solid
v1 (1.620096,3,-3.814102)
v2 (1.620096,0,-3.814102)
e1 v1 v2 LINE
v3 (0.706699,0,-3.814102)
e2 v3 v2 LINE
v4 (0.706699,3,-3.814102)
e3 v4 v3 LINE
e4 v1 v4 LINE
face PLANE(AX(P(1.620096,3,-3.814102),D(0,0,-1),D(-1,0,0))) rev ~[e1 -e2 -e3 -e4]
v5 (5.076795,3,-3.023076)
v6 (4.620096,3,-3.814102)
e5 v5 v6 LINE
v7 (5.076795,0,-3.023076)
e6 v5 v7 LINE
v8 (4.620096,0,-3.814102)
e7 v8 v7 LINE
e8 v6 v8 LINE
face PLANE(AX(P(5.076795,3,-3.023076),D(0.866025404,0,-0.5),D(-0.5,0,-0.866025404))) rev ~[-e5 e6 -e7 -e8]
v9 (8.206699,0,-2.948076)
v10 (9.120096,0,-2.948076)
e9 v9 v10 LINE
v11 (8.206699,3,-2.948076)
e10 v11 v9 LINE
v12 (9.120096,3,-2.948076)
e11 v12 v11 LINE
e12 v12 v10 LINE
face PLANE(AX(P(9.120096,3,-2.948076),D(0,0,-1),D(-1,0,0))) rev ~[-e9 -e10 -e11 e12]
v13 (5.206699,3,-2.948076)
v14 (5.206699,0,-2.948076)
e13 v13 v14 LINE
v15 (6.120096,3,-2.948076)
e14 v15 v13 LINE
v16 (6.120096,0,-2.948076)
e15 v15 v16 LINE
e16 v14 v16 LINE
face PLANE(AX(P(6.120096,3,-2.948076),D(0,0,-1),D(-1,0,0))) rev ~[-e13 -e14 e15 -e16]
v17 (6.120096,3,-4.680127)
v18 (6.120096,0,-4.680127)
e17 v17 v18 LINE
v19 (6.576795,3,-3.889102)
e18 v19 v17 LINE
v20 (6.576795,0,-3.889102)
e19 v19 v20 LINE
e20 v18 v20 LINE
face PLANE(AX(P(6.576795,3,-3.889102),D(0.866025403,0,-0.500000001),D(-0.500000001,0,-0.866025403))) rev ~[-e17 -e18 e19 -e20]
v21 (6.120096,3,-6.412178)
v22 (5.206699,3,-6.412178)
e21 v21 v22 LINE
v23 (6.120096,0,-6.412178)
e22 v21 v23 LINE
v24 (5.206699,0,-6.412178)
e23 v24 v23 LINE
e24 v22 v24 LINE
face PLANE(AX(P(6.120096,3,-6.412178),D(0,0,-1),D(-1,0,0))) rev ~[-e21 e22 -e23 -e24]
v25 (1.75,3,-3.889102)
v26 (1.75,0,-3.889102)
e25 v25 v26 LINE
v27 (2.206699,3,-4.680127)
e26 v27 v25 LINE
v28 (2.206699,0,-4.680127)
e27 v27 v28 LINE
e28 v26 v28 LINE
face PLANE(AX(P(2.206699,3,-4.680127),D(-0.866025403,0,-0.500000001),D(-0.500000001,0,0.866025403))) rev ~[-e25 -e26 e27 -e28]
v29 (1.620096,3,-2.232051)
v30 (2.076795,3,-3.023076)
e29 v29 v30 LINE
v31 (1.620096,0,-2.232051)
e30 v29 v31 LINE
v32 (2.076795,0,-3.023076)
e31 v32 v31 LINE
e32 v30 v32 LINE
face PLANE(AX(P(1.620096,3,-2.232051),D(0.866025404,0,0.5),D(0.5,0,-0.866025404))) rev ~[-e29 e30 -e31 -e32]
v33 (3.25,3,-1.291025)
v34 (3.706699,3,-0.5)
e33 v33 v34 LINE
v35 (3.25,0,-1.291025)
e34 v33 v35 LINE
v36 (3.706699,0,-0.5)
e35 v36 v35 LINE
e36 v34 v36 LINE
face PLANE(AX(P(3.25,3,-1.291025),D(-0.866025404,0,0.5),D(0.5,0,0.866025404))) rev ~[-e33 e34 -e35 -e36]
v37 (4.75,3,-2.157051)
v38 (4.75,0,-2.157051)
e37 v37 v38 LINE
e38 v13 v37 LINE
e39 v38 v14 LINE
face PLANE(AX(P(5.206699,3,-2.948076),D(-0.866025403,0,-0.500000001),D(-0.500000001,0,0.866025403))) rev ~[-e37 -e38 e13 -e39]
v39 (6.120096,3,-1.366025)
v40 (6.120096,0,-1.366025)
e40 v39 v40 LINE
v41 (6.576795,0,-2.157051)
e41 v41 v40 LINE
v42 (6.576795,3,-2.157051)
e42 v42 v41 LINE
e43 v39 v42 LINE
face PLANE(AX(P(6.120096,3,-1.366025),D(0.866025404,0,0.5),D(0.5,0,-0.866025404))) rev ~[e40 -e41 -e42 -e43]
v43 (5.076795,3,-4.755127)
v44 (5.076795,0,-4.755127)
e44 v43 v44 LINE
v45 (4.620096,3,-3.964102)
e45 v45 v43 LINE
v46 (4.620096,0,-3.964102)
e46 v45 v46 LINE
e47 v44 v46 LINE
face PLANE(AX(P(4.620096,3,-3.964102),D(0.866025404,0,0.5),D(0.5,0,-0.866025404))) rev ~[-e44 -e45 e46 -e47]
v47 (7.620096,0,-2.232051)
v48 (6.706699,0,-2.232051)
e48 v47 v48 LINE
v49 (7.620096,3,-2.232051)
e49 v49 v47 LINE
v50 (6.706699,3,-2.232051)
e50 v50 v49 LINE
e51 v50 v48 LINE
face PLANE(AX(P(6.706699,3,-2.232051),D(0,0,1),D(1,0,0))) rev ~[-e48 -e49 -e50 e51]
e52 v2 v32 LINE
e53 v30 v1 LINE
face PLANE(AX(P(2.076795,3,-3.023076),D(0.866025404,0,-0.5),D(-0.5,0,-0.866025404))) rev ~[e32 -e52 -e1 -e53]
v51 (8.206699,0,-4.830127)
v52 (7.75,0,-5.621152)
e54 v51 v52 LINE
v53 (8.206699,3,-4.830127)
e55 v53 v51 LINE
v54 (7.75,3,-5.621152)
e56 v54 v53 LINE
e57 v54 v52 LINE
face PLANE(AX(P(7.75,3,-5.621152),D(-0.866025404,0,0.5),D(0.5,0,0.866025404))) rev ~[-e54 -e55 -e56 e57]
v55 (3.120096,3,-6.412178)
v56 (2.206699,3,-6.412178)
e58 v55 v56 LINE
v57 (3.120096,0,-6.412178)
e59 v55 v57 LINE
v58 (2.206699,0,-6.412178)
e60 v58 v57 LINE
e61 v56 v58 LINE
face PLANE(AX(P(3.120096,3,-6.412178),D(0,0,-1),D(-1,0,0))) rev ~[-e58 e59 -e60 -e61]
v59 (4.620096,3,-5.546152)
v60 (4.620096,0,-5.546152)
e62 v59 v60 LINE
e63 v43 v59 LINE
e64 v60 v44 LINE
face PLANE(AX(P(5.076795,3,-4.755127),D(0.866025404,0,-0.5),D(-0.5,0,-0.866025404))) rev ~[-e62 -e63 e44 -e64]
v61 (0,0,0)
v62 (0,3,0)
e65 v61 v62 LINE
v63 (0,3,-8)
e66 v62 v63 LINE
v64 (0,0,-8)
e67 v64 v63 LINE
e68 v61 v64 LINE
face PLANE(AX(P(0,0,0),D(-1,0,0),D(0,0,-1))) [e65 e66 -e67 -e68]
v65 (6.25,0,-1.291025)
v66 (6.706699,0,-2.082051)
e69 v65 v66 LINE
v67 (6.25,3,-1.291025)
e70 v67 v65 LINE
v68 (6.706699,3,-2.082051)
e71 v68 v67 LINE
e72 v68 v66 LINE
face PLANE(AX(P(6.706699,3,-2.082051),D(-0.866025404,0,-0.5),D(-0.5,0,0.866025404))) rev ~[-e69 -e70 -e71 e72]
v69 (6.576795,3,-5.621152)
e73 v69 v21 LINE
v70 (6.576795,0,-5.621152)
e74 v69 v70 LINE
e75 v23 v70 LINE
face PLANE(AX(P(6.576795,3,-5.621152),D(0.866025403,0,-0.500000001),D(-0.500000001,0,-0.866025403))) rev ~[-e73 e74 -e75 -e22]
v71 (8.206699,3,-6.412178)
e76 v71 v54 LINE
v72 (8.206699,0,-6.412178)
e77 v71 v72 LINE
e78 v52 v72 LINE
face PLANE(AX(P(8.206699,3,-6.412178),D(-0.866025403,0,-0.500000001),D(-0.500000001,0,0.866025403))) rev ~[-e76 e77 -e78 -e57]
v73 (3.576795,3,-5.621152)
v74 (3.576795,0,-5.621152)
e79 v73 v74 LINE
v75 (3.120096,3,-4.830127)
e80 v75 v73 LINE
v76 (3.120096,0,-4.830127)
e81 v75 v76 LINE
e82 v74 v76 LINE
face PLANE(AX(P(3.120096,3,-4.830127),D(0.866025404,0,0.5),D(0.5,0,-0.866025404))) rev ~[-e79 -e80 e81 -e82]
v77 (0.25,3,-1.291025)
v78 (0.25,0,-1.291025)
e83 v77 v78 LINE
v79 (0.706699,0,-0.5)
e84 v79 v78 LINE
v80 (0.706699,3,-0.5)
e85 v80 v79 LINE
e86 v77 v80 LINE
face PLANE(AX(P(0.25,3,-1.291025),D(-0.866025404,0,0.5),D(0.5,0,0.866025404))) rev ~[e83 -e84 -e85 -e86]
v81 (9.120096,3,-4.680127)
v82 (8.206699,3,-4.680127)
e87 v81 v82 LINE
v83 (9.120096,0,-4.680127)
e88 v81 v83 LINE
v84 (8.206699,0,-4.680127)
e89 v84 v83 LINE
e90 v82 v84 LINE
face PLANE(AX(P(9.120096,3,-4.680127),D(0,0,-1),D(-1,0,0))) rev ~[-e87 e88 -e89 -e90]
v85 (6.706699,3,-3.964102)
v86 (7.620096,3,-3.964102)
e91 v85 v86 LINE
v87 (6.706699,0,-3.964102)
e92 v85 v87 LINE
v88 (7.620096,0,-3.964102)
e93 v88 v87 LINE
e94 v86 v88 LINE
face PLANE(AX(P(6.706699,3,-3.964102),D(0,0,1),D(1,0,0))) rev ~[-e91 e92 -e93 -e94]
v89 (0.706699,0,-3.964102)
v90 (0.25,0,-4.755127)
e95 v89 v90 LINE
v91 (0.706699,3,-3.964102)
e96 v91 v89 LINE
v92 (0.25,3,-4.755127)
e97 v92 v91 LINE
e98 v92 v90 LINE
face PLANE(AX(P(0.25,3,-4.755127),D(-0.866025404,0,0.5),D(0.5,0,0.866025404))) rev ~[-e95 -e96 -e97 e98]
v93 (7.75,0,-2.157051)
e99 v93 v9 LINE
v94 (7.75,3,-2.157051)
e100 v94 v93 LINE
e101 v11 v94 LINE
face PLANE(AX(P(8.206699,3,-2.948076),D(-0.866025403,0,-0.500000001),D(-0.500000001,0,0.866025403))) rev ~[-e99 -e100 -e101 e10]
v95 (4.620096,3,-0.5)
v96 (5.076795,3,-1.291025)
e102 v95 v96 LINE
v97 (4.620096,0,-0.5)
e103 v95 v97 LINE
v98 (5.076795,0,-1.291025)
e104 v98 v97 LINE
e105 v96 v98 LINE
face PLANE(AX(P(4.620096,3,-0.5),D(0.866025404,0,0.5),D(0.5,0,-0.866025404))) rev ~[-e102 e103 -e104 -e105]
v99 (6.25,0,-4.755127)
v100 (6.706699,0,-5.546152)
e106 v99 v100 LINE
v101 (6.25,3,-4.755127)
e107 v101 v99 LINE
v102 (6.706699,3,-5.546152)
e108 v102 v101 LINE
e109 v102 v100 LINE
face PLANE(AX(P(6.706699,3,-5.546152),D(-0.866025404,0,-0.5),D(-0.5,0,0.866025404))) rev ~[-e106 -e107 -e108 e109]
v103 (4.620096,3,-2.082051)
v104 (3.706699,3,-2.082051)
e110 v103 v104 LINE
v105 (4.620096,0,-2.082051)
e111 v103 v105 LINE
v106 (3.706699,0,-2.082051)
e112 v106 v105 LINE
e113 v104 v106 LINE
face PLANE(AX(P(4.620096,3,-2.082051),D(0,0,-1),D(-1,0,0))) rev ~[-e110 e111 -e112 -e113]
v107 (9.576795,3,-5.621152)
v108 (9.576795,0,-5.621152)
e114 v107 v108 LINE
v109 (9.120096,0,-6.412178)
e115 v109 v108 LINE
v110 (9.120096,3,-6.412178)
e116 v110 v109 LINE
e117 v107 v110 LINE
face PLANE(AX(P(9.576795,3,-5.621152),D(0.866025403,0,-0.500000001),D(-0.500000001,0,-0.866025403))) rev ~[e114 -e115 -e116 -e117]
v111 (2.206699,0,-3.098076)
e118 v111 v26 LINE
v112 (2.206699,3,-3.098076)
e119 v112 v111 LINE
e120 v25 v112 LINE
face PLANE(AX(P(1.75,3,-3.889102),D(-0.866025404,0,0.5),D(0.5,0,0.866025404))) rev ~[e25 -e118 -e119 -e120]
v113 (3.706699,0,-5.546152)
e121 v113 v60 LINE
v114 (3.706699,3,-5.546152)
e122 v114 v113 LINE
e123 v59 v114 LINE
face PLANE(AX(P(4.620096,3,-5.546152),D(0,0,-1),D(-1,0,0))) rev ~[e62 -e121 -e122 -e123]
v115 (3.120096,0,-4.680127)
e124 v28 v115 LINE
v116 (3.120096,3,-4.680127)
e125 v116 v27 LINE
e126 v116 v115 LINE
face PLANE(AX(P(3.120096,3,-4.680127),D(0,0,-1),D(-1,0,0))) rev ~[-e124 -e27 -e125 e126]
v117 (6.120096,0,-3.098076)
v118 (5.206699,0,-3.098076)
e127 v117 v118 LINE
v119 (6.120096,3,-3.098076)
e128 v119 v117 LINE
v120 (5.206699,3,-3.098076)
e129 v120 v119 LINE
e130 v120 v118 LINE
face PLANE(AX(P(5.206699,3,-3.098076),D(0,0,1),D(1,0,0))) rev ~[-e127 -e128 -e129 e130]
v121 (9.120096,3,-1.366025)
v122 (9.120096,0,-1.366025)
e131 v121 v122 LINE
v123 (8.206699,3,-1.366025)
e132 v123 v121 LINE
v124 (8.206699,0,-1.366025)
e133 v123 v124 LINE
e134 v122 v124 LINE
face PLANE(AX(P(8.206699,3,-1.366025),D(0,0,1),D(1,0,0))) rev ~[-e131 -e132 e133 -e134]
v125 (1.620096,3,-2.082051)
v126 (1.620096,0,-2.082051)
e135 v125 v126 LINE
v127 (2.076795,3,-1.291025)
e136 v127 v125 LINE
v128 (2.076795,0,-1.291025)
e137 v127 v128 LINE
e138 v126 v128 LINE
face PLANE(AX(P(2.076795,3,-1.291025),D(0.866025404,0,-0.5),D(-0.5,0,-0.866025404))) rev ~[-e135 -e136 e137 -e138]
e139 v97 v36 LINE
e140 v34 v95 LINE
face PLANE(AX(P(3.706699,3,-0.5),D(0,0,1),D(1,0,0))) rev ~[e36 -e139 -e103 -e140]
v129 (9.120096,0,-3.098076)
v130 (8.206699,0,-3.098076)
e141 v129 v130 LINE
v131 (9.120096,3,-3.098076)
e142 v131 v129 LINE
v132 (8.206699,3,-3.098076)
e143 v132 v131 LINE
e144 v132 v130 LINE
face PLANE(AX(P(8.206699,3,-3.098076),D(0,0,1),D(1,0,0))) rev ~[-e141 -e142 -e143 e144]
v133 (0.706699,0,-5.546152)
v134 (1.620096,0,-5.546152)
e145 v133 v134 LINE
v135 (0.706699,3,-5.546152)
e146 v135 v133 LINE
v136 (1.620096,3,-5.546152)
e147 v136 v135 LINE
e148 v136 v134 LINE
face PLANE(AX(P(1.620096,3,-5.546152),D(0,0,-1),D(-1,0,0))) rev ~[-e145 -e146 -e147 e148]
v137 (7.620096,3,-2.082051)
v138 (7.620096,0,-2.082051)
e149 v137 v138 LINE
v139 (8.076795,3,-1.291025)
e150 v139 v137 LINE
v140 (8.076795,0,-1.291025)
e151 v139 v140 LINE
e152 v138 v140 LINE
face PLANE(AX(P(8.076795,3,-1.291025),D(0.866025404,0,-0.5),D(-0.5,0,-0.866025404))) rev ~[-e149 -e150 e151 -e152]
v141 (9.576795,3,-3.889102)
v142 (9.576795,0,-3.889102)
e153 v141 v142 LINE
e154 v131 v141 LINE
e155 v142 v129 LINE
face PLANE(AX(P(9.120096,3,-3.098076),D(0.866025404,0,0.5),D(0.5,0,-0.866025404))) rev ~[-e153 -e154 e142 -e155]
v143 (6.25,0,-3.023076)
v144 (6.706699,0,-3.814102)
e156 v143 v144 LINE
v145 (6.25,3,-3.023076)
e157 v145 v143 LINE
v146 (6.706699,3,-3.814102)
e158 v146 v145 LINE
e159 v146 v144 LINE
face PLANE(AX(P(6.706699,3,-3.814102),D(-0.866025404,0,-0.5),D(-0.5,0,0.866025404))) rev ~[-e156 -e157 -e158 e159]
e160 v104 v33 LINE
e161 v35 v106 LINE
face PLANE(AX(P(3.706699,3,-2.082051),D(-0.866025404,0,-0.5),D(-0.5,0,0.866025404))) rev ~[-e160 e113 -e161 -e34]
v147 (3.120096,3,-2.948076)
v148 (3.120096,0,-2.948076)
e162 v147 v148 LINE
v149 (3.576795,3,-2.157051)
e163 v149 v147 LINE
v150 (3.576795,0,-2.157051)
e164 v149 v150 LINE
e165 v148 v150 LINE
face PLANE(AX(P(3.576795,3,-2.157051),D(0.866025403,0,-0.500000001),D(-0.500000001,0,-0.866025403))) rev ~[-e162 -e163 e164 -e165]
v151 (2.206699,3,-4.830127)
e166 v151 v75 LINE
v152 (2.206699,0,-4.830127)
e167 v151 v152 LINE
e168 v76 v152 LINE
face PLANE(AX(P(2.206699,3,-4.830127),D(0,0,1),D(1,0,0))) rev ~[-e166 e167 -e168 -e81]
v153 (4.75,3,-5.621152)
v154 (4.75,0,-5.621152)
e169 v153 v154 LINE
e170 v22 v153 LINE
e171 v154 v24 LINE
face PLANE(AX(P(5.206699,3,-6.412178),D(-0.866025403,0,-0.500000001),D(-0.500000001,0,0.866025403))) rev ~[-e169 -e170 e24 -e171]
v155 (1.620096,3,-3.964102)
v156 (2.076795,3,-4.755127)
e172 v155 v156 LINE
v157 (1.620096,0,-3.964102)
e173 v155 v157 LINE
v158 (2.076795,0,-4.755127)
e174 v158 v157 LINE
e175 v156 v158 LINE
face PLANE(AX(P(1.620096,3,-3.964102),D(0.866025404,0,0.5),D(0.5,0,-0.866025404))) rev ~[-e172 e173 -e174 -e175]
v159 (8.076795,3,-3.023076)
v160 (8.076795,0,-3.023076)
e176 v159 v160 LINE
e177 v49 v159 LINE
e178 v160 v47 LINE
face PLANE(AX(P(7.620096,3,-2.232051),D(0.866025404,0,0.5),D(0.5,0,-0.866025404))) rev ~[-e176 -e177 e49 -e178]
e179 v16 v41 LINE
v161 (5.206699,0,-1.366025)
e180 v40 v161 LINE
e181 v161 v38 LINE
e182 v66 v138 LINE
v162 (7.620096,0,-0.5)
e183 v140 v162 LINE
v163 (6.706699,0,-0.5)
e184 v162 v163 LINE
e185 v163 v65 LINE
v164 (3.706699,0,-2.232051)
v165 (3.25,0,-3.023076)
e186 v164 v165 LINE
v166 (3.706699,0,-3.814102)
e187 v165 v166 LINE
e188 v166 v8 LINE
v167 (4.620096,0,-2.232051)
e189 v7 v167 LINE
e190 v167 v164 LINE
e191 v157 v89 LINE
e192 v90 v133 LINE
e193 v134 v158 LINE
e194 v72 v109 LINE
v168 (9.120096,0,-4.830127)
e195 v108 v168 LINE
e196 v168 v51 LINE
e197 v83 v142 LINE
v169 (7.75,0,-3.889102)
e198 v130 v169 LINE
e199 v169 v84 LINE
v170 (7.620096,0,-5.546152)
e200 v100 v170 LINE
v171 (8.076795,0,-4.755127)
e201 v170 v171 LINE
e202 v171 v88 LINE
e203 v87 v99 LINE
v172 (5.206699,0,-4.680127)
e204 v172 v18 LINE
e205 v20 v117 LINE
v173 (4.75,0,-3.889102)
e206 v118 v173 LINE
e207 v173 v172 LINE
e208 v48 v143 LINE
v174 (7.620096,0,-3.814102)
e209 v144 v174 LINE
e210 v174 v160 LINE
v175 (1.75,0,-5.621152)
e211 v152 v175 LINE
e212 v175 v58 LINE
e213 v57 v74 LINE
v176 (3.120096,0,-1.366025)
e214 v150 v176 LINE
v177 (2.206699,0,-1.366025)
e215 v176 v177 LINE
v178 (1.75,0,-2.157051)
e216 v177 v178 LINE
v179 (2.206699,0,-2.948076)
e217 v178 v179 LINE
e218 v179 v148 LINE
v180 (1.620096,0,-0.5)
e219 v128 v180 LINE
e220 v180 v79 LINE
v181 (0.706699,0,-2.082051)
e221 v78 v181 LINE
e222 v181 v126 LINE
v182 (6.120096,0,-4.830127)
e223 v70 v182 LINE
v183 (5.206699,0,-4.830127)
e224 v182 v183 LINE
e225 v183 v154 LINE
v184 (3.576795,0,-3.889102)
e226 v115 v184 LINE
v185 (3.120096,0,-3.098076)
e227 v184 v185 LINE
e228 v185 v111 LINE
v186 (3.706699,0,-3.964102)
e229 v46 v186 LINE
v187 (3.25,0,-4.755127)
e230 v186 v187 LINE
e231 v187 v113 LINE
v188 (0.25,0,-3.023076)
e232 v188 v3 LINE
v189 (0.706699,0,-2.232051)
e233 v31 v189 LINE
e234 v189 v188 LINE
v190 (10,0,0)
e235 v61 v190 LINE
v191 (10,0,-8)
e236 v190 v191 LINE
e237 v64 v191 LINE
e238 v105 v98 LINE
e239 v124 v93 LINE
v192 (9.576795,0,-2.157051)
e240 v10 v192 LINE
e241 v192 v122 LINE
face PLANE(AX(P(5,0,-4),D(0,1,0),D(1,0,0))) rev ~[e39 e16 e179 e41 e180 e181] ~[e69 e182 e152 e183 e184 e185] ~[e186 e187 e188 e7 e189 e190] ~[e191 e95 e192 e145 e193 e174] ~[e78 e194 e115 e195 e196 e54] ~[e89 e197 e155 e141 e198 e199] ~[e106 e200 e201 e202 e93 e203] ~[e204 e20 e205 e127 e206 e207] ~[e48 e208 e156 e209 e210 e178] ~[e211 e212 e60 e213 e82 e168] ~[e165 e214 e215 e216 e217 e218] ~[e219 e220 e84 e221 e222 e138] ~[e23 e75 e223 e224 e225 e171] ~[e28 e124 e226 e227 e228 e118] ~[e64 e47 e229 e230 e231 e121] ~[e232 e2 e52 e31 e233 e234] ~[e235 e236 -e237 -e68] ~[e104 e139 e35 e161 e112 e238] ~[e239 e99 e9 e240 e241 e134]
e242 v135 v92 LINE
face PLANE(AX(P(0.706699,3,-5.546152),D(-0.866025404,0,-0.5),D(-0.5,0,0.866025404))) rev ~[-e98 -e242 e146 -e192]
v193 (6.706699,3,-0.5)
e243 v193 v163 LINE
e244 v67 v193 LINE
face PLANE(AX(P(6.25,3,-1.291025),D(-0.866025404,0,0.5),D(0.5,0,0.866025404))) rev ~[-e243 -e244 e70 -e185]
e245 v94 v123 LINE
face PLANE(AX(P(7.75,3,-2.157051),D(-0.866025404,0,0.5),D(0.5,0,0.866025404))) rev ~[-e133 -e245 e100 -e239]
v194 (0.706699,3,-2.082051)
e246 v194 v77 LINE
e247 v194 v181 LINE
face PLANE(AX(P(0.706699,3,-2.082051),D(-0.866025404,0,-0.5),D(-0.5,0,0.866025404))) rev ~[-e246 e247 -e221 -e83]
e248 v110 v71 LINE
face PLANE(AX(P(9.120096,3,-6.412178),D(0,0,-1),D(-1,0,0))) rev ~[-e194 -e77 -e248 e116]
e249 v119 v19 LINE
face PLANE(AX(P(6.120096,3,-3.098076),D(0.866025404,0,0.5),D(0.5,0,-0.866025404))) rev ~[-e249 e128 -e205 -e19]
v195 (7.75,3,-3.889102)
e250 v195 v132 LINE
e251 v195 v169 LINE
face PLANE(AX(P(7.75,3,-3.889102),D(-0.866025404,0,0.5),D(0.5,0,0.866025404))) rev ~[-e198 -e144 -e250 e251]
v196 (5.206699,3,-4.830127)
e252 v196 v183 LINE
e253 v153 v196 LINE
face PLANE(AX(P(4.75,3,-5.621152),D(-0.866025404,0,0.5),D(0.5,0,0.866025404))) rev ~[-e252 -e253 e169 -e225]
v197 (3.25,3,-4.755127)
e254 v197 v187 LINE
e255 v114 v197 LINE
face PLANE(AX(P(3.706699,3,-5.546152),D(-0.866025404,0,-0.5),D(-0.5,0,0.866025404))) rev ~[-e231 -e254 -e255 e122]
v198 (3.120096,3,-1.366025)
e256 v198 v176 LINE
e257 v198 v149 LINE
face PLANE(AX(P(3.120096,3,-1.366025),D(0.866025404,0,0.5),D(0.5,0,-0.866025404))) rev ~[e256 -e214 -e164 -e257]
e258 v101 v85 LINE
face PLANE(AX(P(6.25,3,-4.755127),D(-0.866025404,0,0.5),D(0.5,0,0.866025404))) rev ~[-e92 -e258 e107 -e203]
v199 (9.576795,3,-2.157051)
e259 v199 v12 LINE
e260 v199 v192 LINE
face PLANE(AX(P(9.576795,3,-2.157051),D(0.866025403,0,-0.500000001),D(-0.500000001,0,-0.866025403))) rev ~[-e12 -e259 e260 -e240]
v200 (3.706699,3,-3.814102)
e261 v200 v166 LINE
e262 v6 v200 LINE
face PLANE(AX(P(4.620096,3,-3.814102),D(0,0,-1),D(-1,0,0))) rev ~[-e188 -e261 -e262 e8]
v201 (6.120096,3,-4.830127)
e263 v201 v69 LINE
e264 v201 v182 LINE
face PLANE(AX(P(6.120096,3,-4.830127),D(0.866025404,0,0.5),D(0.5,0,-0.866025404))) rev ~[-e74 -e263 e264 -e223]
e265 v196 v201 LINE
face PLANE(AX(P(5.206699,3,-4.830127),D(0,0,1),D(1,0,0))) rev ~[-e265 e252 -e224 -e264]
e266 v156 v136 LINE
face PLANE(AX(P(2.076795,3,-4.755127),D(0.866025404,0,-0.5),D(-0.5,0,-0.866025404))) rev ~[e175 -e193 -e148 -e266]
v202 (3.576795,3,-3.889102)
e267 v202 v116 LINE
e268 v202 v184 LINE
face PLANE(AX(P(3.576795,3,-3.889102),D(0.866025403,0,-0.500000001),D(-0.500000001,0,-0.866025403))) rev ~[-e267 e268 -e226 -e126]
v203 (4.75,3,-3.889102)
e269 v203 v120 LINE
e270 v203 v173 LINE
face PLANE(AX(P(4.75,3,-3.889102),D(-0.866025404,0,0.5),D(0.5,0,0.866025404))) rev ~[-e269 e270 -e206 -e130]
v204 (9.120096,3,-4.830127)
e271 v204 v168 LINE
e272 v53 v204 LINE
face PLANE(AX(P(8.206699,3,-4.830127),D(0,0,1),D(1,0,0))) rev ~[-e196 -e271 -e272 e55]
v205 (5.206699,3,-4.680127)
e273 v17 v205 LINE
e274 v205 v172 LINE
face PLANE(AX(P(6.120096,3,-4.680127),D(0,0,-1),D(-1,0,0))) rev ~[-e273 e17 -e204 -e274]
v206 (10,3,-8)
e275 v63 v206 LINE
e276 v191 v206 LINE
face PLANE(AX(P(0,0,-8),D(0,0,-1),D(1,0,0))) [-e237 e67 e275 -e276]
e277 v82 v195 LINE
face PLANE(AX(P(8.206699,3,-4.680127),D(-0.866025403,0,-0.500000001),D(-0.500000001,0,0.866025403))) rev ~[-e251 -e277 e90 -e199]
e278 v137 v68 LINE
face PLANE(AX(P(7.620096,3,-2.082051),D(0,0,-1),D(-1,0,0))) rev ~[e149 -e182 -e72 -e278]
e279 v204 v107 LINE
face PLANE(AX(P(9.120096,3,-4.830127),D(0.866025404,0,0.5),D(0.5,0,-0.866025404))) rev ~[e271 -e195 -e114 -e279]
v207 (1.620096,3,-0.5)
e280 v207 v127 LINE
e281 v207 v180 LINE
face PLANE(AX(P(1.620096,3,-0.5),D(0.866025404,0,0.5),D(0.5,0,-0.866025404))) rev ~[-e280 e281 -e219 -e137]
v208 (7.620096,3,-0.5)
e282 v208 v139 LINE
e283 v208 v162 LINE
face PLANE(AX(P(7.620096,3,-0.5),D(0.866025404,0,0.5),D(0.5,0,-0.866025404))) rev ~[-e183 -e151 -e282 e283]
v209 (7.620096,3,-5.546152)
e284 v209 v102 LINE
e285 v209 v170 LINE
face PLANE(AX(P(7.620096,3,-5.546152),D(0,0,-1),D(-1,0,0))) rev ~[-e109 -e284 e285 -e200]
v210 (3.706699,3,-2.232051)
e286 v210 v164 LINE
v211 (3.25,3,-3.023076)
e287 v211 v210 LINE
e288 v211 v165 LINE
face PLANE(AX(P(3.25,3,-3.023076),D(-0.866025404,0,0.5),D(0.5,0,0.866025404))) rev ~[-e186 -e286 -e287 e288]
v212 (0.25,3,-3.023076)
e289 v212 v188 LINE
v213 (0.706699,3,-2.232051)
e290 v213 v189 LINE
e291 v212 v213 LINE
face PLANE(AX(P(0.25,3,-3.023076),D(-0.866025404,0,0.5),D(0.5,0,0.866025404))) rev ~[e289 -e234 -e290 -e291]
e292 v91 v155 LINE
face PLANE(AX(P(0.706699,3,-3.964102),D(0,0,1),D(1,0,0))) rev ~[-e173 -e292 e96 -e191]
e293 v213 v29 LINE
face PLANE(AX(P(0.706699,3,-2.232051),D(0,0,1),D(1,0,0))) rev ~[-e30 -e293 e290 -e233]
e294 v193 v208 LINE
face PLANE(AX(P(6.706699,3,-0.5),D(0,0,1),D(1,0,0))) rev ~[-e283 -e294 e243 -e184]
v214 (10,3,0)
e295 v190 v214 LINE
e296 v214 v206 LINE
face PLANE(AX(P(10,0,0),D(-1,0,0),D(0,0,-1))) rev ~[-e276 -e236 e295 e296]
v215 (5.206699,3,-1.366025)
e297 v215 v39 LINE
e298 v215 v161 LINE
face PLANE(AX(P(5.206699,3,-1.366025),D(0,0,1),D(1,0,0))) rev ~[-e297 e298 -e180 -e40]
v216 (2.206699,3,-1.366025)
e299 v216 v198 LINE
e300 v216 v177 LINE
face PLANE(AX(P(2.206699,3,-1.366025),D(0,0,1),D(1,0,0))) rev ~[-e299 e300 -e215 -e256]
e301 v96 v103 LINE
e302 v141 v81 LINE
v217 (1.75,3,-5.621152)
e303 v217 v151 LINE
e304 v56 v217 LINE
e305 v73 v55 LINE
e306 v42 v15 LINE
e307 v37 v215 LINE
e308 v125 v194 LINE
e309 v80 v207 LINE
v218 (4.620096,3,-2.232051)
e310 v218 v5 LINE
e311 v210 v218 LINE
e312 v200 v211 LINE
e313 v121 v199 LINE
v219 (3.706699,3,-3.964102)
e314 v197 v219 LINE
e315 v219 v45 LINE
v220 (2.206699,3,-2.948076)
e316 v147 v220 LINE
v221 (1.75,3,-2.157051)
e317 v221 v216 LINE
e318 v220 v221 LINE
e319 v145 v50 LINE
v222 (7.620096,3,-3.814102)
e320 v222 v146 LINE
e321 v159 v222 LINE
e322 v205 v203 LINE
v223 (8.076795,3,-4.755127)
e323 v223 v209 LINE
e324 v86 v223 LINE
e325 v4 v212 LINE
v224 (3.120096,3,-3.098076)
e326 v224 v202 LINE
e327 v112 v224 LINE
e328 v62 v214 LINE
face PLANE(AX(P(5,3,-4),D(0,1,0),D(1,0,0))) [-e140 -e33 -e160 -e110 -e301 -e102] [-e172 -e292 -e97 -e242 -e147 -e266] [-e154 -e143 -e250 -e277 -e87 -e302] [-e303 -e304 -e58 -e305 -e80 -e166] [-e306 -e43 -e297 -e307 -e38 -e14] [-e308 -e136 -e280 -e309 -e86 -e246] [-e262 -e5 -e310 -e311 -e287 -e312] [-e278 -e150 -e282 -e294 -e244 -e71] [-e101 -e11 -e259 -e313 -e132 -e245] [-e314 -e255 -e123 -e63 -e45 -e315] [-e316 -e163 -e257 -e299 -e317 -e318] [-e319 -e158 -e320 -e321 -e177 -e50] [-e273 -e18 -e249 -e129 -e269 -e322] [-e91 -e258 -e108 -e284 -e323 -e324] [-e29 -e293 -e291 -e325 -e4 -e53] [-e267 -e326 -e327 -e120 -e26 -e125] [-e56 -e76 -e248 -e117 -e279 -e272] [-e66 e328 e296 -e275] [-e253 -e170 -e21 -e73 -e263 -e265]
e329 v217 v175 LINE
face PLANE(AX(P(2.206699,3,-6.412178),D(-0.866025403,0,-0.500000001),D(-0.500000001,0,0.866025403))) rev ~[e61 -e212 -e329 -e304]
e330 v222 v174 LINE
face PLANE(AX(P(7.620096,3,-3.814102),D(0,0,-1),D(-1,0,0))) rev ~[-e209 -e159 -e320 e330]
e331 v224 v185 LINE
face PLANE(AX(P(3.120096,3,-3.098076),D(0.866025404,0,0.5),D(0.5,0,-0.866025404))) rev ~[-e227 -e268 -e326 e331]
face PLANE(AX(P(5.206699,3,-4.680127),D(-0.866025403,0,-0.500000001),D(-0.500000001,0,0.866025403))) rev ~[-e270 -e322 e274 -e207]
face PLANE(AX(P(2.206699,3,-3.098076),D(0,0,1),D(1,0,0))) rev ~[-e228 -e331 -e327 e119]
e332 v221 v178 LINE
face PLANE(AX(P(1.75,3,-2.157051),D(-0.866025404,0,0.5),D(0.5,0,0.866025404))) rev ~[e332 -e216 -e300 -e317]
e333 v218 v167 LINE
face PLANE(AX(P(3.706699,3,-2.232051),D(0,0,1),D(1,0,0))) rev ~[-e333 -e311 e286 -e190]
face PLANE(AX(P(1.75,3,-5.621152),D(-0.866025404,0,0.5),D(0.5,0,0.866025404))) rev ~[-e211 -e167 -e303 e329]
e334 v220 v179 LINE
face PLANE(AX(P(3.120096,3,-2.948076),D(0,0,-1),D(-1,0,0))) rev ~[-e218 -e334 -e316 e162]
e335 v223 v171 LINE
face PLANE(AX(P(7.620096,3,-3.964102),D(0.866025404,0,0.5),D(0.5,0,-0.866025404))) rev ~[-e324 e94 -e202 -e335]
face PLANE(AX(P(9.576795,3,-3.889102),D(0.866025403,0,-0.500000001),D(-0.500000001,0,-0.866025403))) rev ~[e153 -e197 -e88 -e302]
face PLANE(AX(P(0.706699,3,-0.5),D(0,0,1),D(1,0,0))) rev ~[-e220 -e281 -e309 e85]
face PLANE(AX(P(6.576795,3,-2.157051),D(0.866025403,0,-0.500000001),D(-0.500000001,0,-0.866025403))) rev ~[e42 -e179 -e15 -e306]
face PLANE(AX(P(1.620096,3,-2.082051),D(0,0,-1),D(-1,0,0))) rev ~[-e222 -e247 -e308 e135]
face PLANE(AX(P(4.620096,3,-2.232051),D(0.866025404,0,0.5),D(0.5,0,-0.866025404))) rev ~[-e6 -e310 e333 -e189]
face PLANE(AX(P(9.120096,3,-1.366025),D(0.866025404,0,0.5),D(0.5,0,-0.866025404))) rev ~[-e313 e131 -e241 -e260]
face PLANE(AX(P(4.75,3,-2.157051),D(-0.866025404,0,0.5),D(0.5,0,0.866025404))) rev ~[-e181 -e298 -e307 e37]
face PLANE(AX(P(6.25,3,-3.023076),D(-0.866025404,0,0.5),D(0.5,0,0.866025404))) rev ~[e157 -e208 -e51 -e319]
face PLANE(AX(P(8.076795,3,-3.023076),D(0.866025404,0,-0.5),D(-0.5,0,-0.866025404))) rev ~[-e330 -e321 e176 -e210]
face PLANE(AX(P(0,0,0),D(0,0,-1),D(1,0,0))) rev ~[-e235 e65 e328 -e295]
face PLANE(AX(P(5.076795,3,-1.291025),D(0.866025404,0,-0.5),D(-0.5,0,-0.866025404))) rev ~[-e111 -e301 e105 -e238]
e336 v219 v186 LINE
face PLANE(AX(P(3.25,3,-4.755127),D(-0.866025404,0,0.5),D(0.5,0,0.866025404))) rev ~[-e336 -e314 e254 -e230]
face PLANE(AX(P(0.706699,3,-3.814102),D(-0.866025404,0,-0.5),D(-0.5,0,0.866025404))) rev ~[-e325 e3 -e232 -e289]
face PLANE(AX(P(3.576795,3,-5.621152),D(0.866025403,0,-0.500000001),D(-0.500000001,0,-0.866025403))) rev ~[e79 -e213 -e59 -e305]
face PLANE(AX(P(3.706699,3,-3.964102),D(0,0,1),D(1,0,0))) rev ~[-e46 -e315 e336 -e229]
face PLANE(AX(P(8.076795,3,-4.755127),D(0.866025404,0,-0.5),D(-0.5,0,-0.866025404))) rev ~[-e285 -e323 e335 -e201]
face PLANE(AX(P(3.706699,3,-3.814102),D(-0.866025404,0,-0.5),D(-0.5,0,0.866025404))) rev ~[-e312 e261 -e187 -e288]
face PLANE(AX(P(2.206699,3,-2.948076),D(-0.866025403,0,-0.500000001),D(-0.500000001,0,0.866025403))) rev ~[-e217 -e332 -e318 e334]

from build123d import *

# Parameters (mm, degrees)
SKETCH1_W            = 10
SKETCH1_H            = 8
BOSS_EXTRUDE1_DEPTH  = 3
CUT_EXTRUDE1_REACH   = 15.153
LPATTERN2_COUNT      = 3
LPATTERN2_PITCH      = 3
LPATTERN2_COUNT_DIR2 = 3
LPATTERN2_PITCH_DIR2 = 1.732050808


with BuildPart() as part:
    # Sketch1 → Boss-Extrude1 (new body)
    with BuildSketch(Plane(origin=(0, 0, 0), x_dir=(1, 0, 0), z_dir=(0, 1, 0))):
        with Locations((5, 4)):
            Rectangle(SKETCH1_W, SKETCH1_H)
    extrude(amount=BOSS_EXTRUDE1_DEPTH)

    # Sketch2 → Cut-Extrude1 (cut, up to next)
    with BuildSketch(Plane(origin=(0, 3, 0), x_dir=(1, 0, 0), z_dir=(0, 1, 0)), mode=Mode.PRIVATE) as cut_extrude1_sk1:
        Polygon((2.076794919, 1.291025404), (1.620096189, 2.082050808), (0.70669873, 2.082050808), (0.25, 1.291025404), (0.70669873, 0.5), (1.620096189, 0.5), align=None)
    cut_extrude1_tool1 = extrude(cut_extrude1_sk1.sketch, amount=-CUT_EXTRUDE1_REACH, mode=Mode.PRIVATE) & part.part
    # Sketch2 → Cut-Extrude1 (cut, up to next)
    with BuildSketch(Plane(origin=(0, 3, 0), x_dir=(1, 0, 0), z_dir=(0, 1, 0)), mode=Mode.PRIVATE) as cut_extrude1_sk2:
        Polygon((3.576794919, 2.157050808), (3.120096189, 2.948076211), (2.20669873, 2.948076211), (1.75, 2.157050808), (2.20669873, 1.366025404), (3.120096189, 1.366025404), align=None)
    cut_extrude1_tool2 = extrude(cut_extrude1_sk2.sketch, amount=-CUT_EXTRUDE1_REACH, mode=Mode.PRIVATE) & part.part
    cut_extrude1_1 = cut_extrude1_tool1.solids().sort_by_distance((1.163397, 3, -1.291025))[0]
    add(cut_extrude1_1, mode=Mode.SUBTRACT)
    cut_extrude1_2 = cut_extrude1_tool2.solids().sort_by_distance((2.663397, 3, -2.157051))[0]
    add(cut_extrude1_2, mode=Mode.SUBTRACT)
    cut_extrude1 = cut_extrude1_1 + cut_extrude1_2  # Cut-Extrude1 as one shape, for the pattern or mirror that repeats it

    # LPattern2: Cut-Extrude1 3 × 3
    with Locations(*[(i * LPATTERN2_PITCH, 0, -j * LPATTERN2_PITCH_DIR2) for i in range(LPATTERN2_COUNT) for j in range(LPATTERN2_COUNT_DIR2) if (i, j) != (0, 0)]):
        add(cut_extrude1, mode=Mode.SUBTRACT)


solid = part.part
